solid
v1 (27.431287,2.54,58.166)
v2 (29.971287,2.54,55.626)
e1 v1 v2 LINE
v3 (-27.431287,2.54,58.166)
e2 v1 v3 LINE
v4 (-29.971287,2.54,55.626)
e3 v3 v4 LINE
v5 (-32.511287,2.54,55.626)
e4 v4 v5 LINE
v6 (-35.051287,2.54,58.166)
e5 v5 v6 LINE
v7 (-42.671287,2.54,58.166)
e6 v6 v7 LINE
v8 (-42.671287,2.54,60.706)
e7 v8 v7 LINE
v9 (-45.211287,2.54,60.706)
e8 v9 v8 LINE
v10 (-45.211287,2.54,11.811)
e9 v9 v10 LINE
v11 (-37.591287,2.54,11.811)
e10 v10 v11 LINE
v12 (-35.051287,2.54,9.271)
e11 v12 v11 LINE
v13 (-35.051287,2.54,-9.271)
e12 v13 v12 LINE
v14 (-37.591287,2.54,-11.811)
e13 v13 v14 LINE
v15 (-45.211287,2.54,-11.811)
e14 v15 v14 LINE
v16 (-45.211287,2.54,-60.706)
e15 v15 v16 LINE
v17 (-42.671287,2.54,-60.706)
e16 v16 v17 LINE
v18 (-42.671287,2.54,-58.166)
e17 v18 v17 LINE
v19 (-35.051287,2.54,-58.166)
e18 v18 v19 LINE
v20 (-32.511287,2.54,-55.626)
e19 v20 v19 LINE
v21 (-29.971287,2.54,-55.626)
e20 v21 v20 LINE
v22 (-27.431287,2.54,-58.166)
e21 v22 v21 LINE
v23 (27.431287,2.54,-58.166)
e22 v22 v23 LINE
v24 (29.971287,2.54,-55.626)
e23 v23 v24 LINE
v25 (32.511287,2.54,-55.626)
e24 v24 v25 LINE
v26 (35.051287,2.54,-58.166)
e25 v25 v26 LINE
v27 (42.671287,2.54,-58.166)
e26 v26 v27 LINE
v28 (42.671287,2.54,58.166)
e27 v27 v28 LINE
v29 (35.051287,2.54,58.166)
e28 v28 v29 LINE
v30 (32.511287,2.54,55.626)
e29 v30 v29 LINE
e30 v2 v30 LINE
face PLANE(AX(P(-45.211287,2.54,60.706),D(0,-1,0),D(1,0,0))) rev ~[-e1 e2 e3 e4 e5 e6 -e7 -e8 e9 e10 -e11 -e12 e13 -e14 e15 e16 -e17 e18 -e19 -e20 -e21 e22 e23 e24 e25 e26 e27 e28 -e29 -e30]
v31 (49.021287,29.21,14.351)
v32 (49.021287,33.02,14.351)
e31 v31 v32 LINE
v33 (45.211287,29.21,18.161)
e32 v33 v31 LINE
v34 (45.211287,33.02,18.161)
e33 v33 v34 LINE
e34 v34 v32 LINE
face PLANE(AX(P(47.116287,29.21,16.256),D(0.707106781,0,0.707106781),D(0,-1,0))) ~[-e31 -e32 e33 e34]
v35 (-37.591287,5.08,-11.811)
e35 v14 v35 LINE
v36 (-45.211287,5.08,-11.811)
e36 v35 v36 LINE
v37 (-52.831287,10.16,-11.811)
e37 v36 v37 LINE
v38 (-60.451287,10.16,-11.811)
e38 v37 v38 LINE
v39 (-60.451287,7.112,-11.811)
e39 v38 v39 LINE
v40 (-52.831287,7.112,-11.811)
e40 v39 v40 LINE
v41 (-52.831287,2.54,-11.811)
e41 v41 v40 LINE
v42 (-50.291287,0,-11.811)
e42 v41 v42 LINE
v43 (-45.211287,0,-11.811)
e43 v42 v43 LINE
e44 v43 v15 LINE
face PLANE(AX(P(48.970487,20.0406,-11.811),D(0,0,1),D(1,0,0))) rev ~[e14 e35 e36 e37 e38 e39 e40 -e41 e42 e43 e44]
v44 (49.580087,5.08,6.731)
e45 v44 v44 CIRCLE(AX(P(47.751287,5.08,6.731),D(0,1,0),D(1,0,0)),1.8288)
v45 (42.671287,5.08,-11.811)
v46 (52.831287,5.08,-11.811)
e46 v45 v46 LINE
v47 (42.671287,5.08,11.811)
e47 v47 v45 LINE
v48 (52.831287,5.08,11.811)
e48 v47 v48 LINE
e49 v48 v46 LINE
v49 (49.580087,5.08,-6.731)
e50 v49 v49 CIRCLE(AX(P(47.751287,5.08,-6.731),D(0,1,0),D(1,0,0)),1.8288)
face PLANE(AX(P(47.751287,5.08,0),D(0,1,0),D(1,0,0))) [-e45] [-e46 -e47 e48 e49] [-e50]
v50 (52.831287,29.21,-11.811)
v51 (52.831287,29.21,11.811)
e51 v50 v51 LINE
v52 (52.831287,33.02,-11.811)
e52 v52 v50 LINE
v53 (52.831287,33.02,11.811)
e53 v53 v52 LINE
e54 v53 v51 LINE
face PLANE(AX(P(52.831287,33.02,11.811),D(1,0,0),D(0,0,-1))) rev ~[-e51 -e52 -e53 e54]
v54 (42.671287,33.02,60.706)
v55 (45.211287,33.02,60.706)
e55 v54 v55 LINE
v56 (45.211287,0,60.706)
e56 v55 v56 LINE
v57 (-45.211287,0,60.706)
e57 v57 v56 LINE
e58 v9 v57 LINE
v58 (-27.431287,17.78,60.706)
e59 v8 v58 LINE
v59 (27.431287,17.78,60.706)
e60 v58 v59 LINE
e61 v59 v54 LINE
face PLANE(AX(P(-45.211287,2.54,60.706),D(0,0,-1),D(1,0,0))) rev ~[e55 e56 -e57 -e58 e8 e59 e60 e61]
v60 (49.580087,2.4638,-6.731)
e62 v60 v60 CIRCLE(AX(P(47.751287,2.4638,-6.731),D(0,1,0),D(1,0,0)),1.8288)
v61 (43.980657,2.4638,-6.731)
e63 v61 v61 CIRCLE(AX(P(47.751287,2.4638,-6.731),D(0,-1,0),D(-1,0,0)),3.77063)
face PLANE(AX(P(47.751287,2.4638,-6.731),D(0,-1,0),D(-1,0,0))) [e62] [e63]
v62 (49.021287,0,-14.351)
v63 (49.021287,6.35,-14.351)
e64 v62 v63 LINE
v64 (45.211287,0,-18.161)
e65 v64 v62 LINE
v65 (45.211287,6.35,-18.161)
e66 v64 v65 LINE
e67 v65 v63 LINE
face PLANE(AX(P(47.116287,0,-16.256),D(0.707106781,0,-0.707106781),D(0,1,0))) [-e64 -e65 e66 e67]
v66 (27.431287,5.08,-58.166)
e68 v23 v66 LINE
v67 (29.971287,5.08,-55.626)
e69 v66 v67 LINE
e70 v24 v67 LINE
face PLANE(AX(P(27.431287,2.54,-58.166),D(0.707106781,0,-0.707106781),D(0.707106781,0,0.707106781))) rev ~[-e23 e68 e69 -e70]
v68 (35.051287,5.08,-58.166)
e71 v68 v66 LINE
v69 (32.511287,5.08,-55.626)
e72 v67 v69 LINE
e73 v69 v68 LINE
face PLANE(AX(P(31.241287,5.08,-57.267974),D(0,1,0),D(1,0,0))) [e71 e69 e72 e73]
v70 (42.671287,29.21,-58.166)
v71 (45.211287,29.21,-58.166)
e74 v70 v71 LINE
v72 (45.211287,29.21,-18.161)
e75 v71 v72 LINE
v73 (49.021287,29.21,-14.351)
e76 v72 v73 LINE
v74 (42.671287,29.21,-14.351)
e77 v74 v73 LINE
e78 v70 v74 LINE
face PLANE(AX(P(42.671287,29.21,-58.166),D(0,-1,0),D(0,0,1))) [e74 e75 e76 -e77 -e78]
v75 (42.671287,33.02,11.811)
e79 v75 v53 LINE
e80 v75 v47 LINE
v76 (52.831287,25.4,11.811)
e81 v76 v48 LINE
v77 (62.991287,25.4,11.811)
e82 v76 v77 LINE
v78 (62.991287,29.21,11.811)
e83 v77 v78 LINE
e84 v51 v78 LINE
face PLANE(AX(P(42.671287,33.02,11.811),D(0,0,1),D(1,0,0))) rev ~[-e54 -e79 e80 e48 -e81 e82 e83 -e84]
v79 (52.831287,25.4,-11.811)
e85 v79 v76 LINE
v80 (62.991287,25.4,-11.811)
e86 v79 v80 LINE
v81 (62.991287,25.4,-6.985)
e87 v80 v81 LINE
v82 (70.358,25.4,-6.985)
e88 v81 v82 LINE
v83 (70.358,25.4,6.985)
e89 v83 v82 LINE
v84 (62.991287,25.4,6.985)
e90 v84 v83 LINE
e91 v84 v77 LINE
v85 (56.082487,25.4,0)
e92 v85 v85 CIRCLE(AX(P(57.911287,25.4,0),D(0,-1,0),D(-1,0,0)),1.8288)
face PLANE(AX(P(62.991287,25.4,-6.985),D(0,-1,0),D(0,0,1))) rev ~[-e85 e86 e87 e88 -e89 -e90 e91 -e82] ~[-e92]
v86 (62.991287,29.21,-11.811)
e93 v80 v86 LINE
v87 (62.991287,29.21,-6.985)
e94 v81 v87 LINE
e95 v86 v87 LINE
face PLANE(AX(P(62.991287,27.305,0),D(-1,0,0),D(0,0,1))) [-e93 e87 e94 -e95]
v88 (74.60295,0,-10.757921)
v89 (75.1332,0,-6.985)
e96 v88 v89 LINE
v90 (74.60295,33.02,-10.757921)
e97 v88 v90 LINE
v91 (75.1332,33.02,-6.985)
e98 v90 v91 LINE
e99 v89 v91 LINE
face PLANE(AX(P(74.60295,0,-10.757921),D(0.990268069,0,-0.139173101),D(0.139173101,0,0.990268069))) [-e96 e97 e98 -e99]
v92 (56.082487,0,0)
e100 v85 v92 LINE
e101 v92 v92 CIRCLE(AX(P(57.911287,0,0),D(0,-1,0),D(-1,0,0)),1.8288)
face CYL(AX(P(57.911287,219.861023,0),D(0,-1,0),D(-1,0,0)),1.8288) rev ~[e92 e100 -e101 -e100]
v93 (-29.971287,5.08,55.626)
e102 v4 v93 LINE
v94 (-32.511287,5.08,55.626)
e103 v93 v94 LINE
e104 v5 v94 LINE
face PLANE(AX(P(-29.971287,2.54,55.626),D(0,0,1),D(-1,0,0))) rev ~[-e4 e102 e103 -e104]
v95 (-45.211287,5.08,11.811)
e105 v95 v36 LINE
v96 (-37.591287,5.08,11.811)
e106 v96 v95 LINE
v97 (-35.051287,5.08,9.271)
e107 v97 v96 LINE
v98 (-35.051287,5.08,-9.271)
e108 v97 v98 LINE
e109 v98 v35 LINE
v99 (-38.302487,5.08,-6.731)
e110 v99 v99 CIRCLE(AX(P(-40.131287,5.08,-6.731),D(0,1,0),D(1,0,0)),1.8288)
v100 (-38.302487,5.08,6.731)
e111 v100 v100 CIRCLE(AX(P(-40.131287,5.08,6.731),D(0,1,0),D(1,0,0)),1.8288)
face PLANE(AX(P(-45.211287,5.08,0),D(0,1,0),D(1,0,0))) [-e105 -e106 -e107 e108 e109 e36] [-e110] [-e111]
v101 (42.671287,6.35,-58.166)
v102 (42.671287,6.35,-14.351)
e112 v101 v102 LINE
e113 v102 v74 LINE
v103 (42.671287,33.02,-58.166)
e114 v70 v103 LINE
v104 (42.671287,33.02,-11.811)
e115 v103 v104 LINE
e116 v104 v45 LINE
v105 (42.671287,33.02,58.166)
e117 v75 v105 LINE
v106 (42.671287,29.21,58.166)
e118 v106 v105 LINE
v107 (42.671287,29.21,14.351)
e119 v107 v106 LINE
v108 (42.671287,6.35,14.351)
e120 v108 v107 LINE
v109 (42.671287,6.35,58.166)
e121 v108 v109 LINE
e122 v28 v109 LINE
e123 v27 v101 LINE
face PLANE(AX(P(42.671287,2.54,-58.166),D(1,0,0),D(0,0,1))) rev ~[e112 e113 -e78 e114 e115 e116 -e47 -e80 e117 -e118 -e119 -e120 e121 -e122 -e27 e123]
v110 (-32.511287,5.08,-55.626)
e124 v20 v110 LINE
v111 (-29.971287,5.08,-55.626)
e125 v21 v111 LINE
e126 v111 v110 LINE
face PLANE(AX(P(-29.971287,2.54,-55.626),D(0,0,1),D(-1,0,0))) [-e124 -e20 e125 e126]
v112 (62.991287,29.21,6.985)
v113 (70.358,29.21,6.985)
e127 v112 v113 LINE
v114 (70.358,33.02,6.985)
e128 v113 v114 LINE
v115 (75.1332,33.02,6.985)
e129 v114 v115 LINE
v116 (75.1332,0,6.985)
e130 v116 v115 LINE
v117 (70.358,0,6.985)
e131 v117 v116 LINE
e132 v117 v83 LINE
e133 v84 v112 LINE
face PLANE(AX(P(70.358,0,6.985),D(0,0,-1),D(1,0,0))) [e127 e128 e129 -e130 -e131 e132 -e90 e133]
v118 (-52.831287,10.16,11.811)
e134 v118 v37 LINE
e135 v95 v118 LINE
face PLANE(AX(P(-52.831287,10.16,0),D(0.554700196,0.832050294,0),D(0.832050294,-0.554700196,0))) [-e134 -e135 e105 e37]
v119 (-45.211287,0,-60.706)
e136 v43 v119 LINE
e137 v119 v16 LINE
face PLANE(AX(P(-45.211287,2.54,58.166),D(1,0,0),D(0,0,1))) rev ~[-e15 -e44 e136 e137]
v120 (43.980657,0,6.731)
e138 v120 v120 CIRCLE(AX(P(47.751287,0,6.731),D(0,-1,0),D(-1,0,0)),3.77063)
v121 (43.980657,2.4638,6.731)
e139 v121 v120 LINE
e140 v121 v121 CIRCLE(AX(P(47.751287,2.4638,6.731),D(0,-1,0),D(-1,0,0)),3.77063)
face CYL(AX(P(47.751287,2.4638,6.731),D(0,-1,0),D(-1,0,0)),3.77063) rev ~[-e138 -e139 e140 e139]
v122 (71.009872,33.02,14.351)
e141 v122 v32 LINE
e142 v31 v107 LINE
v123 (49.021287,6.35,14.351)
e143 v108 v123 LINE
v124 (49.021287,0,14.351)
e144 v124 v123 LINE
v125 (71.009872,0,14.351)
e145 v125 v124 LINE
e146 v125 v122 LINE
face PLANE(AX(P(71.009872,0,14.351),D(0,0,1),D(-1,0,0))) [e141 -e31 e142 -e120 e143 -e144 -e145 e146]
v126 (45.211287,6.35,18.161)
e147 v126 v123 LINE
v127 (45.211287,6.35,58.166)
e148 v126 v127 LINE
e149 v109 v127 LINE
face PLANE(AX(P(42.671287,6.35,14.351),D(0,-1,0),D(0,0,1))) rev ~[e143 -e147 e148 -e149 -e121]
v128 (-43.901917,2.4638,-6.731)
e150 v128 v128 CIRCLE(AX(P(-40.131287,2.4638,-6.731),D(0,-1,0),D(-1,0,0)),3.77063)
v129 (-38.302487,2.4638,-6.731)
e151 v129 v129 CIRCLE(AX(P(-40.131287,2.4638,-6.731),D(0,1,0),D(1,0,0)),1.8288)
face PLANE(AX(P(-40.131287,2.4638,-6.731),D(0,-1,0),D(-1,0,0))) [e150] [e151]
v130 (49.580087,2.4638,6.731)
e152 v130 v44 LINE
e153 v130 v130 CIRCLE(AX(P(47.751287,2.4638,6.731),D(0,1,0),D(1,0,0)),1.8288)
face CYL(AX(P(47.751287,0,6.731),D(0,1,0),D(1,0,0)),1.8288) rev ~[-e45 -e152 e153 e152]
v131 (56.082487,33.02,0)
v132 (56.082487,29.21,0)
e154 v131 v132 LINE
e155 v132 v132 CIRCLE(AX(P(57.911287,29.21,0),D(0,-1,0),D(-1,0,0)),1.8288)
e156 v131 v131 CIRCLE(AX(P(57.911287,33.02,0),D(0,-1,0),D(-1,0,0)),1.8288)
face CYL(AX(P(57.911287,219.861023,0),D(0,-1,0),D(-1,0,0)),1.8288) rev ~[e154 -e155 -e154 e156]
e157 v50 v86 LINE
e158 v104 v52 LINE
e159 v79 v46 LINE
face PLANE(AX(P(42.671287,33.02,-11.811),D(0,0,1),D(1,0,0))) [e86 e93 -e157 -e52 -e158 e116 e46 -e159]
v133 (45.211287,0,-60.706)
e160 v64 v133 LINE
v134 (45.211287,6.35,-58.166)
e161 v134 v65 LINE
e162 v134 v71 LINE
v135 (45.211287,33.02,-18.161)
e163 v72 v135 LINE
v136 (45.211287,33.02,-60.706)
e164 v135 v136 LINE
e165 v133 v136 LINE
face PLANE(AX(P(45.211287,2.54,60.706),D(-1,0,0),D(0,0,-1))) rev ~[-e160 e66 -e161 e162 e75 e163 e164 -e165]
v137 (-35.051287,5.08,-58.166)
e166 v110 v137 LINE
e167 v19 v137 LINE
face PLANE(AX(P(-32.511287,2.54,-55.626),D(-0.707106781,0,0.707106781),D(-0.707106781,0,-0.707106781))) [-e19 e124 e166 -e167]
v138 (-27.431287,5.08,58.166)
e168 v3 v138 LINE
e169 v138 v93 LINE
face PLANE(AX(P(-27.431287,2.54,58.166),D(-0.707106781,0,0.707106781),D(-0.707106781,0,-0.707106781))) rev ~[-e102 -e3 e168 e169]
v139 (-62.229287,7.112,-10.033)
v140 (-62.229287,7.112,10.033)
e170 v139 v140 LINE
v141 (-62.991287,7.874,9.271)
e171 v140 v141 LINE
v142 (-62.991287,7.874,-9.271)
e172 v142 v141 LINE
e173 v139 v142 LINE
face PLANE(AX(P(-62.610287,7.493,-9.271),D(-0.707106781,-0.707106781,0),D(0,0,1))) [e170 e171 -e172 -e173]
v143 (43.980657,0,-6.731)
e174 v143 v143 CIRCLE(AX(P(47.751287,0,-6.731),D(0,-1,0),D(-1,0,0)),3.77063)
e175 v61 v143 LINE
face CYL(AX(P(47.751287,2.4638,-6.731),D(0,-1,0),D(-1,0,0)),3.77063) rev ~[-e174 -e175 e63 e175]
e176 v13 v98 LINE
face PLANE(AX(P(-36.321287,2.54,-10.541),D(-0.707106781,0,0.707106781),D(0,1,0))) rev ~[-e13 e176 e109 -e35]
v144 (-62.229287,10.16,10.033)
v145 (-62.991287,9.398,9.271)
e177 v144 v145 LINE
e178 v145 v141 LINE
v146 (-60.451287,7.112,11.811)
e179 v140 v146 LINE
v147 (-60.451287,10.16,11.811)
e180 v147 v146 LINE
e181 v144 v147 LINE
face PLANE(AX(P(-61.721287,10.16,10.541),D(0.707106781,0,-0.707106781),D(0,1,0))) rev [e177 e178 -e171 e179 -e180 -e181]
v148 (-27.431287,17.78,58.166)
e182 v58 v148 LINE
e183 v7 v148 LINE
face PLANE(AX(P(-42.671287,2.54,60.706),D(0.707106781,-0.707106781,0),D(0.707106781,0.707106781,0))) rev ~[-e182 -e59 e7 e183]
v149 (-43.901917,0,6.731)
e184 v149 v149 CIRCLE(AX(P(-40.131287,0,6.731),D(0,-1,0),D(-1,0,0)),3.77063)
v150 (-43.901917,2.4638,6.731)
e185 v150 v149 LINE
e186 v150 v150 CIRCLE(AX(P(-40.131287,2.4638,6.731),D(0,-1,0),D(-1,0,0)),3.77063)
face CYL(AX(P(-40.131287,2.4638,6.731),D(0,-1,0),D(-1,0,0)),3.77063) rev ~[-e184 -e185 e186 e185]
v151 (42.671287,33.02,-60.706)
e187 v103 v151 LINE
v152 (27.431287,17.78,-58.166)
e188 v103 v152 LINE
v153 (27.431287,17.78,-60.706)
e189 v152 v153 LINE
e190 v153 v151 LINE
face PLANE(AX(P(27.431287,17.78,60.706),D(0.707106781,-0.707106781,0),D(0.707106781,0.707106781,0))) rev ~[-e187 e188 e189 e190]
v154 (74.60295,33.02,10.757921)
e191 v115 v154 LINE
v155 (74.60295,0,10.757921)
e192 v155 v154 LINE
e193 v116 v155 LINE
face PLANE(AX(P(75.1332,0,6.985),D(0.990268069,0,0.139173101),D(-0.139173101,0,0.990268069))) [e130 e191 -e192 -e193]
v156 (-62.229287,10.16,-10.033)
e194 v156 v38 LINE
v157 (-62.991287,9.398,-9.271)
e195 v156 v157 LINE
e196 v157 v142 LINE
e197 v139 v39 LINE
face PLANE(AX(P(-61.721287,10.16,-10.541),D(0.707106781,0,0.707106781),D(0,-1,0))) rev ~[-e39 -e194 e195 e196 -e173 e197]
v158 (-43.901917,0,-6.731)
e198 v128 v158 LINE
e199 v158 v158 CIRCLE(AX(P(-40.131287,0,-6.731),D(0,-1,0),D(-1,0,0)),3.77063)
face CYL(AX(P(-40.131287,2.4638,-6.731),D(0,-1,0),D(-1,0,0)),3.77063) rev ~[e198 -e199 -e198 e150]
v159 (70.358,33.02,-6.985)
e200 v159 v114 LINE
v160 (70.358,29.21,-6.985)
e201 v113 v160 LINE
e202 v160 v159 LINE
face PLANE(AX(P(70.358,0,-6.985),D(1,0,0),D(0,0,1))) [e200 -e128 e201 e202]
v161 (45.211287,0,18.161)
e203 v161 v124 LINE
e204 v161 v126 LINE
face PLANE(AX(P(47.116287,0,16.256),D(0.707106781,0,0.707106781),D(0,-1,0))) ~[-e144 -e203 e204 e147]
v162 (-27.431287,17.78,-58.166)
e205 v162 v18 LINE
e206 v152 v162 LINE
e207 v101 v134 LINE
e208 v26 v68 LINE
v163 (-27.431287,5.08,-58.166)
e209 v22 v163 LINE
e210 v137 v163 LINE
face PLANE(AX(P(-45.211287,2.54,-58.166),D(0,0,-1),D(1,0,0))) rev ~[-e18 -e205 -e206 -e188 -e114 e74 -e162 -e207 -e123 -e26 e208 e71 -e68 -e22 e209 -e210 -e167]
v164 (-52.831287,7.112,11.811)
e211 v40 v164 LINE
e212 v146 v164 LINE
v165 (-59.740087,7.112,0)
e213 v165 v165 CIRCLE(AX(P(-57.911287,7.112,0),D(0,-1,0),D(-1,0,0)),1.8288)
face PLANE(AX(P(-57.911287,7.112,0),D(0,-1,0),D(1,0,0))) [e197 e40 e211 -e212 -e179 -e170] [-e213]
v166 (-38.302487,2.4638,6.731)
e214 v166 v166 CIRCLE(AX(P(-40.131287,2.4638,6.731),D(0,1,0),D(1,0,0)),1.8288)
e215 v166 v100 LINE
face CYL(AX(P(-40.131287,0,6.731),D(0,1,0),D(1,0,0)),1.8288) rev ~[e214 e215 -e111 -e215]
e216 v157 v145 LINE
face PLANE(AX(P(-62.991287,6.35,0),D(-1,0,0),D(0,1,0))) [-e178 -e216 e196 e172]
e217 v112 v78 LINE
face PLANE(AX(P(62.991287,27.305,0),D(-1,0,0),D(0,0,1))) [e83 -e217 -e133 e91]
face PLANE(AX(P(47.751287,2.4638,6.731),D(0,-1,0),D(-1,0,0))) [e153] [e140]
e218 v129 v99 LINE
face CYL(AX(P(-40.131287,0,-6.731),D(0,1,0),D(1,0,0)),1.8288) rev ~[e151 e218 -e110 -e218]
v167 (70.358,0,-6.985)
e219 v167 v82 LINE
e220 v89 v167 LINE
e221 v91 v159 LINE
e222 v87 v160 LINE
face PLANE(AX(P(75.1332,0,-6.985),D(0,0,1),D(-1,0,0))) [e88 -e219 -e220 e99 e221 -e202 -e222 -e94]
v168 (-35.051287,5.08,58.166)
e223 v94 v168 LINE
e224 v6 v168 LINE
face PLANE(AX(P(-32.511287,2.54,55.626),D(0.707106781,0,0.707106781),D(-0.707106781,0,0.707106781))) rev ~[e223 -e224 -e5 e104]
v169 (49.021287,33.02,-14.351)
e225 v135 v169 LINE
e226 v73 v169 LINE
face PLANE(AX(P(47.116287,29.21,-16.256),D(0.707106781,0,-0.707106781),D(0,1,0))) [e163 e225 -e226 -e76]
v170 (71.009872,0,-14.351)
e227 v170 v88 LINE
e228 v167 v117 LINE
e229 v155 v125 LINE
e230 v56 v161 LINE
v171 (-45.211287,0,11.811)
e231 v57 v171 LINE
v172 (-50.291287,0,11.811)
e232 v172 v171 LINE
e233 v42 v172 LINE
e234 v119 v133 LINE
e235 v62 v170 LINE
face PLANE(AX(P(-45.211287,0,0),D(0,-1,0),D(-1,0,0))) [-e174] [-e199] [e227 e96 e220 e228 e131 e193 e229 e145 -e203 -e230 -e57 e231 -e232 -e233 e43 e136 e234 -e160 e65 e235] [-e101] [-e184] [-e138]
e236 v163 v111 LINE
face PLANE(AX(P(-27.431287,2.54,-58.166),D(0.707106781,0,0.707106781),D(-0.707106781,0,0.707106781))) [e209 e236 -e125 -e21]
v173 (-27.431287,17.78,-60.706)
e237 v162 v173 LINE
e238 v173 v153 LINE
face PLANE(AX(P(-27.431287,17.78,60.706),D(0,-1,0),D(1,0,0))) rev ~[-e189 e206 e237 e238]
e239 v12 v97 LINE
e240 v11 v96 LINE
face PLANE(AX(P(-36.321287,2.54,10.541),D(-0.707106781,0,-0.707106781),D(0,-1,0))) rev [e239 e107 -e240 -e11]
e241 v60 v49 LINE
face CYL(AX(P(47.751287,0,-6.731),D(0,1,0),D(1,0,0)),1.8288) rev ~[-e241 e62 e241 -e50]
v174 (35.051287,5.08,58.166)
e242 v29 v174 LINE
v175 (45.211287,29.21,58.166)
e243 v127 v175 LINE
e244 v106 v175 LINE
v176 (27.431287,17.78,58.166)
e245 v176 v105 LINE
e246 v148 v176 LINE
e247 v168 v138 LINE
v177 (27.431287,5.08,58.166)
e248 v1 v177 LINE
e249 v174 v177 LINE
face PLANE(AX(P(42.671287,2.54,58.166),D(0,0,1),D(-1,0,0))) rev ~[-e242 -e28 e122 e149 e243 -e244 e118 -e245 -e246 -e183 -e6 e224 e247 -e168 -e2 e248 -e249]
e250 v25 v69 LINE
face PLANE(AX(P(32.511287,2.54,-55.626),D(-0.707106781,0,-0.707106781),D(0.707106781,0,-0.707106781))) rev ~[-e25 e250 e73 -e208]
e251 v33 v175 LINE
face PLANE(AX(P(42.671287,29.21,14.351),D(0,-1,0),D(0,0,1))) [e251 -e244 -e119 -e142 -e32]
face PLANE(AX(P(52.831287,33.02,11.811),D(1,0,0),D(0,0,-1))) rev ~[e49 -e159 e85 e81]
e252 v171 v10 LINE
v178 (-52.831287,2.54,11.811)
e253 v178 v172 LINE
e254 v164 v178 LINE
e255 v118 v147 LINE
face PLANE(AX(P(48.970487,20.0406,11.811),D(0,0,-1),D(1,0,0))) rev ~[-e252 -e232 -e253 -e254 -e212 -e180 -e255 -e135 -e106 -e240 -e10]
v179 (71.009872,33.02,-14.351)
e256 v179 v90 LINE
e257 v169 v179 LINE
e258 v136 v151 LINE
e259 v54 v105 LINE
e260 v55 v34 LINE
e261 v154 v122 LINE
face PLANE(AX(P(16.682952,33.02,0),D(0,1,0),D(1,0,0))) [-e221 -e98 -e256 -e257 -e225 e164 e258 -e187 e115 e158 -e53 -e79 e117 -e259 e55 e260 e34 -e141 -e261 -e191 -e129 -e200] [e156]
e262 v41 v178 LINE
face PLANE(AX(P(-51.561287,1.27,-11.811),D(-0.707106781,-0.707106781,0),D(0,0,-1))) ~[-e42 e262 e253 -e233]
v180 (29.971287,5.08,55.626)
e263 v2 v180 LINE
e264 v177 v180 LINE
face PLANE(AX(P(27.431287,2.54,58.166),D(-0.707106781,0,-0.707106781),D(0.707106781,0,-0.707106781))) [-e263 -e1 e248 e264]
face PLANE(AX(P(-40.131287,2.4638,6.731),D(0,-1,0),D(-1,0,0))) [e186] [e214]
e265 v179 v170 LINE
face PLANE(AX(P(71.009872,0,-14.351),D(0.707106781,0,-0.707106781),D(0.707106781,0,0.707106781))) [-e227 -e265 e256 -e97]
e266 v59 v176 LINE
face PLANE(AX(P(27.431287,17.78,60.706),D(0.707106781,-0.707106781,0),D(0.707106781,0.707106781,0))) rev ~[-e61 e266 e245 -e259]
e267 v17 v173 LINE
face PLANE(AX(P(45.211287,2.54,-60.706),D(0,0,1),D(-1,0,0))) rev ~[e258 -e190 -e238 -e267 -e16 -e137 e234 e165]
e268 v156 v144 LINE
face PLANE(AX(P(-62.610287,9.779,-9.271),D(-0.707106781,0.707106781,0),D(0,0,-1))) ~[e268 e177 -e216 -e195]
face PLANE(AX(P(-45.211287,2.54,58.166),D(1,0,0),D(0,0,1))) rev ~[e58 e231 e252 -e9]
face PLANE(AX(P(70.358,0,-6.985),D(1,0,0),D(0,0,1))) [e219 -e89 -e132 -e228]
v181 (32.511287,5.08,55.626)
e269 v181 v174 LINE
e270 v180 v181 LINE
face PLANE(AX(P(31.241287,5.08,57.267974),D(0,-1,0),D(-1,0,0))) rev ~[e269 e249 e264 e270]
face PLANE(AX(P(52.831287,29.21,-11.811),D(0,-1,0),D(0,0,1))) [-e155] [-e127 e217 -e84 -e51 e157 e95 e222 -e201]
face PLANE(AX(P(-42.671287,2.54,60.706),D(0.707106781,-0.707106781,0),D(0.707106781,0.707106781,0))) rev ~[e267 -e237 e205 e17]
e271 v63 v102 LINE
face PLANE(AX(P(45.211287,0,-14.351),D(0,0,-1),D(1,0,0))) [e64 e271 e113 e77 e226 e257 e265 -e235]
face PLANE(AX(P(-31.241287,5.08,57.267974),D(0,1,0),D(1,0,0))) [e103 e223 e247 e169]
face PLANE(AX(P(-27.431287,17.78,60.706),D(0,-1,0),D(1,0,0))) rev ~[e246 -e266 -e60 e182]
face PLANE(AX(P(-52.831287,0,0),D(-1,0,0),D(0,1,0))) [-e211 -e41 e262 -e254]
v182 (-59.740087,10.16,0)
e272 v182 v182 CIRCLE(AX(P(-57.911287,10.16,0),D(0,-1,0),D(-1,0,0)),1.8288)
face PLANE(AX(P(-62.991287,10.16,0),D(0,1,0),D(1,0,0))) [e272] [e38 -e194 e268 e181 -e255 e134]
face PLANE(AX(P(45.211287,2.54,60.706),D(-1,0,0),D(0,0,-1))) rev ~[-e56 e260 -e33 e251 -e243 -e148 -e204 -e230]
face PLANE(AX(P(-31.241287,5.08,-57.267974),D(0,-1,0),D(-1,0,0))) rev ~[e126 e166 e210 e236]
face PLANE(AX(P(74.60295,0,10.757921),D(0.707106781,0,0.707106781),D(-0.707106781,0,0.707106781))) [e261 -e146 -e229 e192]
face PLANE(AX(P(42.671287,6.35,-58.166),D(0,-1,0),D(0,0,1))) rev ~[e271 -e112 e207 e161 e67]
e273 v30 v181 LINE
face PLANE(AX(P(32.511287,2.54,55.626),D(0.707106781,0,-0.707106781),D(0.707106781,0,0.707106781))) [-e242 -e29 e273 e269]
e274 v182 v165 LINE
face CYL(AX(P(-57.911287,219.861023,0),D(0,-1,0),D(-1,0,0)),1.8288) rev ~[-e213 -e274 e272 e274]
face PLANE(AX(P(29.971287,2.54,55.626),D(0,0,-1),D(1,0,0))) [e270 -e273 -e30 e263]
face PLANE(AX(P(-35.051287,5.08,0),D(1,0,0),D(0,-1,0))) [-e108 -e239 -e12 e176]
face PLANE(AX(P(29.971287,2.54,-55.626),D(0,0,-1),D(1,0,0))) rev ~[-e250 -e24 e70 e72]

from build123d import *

# Parameters (mm, degrees)
SKETCH3_W                                       = 90.422573022
SKETCH3_H                                       = 121.412
BOSS_EXTRUDE4_DEPTH                             = 2.54
BOSS_EXTRUDE5_DEPTH                             = 30.48
CUT_EXTRUDE2_DEPTH                              = 122.412
BOSS_EXTRUDE6_DEPTH                             = 33.02
SKETCH9_W                                       = 10.16
SKETCH9_H                                       = 23.622
CUT_EXTRUDE3_DEPTH                              = 27.94
BOSS_EXTRUDE7_DEPTH                             = 2.54
SKETCH12_W                                      = 23.622
SKETCH12_H                                      = 3.81
CUT_EXTRUDE4_DEPTH                              = 10.16
SKETCH13_W                                      = 13.97
SKETCH13_H                                      = 3.81
CUT_EXTRUDE5_DEPTH                              = 13.141913489
BOSS_EXTRUDE9_REACH                             = 62.706
BOSS_EXTRUDE9_DIRECTION_2_REACH                 = 62.706
CBORE_FOR_6_PAN_HEAD_MACHINE_SCREW1_D           = 3.6576
CBORE_FOR_6_PAN_HEAD_MACHINE_SCREW1_CBORE_D     = 7.54126
CBORE_FOR_6_PAN_HEAD_MACHINE_SCREW1_CBORE_DEPTH = 2.4638
F_6_CLEARANCE_HOLE1_D                           = 3.6576
SKETCH21_W                                      = 43.815
SKETCH21_H                                      = 22.86
CUT_EXTRUDE6_DEPTH                              = 33.461913489
CHAMFER1_SIZE                                   = 2.54
CHAMFER2_SIZE                                   = 3.81
SKETCH23_W                                      = 10.16
SKETCH23_H                                      = 23.622
CUT_EXTRUDE8_DEPTH                              = 0.762
CHAMFER3_SIZE                                   = 0.762


with BuildPart() as part:
    # Sketch3 → Boss-Extrude4 (new body)
    with BuildSketch(Plane(origin=(0, 0, 0), x_dir=(1, 0, 0), z_dir=(0, 1, 0))):
        Rectangle(SKETCH3_W, SKETCH3_H)
    extrude(amount=BOSS_EXTRUDE4_DEPTH)

    # Sketch6 → Boss-Extrude5 (add)
    with BuildSketch(Plane(origin=(0, 2.54, 0), x_dir=(1, 0, 0), z_dir=(0, 1, 0))):
        Polygon((45.211286511, -60.706), (45.211286511, 60.706), (-45.211286511, 60.706), (-45.211286511, 58.166), (42.671286511, 58.166), (42.671286511, -58.166), (-45.211286511, -58.166), (-45.211286511, -60.706), align=None)
    extrude(amount=BOSS_EXTRUDE5_DEPTH)

    # Sketch7 → Cut-Extrude2 (cut, through all)
    with BuildSketch(Plane.XY.offset(60.706)):
        Polygon((-42.671286511, 2.54), (-27.431286511, 17.78), (27.431286511, 17.78), (42.671286511, 33.02), (-45.211286511, 33.02), (-45.211286511, 2.54), align=None)
    extrude(amount=-CUT_EXTRUDE2_DEPTH, mode=Mode.SUBTRACT)

    # Sketch8 → Boss-Extrude6 (add)
    with BuildSketch(Plane(origin=(0, 0, 0), x_dir=(1, 0, 0), z_dir=(0, 1, 0))):
        Polygon((45.211286511, 14.351), (71.009871827, 14.351), (74.602950485, 10.757921342), (75.1332, 6.985), (70.358, 6.985), (70.358, -6.985), (75.1332, -6.985), (74.602950485, -10.757921342), (71.009871827, -14.351), (45.211286511, -14.351), align=None)
    extrude(amount=BOSS_EXTRUDE6_DEPTH)

    # Sketch9 → Cut-Extrude3 (cut)
    with BuildSketch(Plane(origin=(0, 33.02, 0), x_dir=(1, 0, 0), z_dir=(0, 1, 0))):
        with Locations((47.751286511, 0)):
            Rectangle(SKETCH9_W, SKETCH9_H)
    extrude(amount=-CUT_EXTRUDE3_DEPTH, mode=Mode.SUBTRACT)

    # Sketch11 → Boss-Extrude7 (add)
    with BuildSketch(Plane(origin=(0, 2.54, 0), x_dir=(1, 0, 0), z_dir=(0, 1, 0))):
        Polygon((35.051286511, 58.166), (27.431286511, 58.166), (29.971286511, 55.626), (32.511286511, 55.626), align=None)
        Polygon((-29.971286511, 55.626), (-32.511286511, 55.626), (-35.051286511, 58.166), (-27.431286511, 58.166), align=None)
        Polygon((29.971286511, -55.626), (32.511286511, -55.626), (35.051286511, -58.166), (27.431286511, -58.166), align=None)
        Polygon((-27.431286511, -58.166), (-29.971286511, -55.626), (-32.511286511, -55.626), (-35.051286511, -58.166), align=None)
    extrude(amount=BOSS_EXTRUDE7_DEPTH)

    # Sketch12 → Cut-Extrude4 (cut)
    with BuildSketch(Plane.ZY.offset(-52.831286511)):
        with Locations((0, 27.305)):
            Rectangle(SKETCH12_W, SKETCH12_H)
    extrude(amount=-CUT_EXTRUDE4_DEPTH, mode=Mode.SUBTRACT)

    # Sketch13 → Cut-Extrude5 (cut, through all)
    with BuildSketch(Plane.ZY.offset(-62.991286511)):
        with Locations((0, 27.305)):
            Rectangle(SKETCH13_W, SKETCH13_H)
    extrude(amount=-CUT_EXTRUDE5_DEPTH, mode=Mode.SUBTRACT)

    # Boss-Extrude9: up to this face of the body (flat: up to its plane)
    boss_extrude9_end = Plane(part.part.faces().sort_by_distance((48.970486511, 20.0406, -11.811))[0])
    # Sketch15 → Boss-Extrude9 (add, up to the picked face)
    with BuildSketch(Plane.XY, mode=Mode.PRIVATE) as boss_extrude9_sk1:
        Polygon((-62.991286511, 10.16), (-52.831286511, 10.16), (-45.211286511, 5.08), (-35.051286511, 5.08), (-35.051286511, 2.54), (-45.211286511, 2.54), (-45.211286511, 0), (-52.831286511, 0), (-52.831286511, 6.35), (-62.991286511, 6.35), align=None)
    boss_extrude9_tool1 = split(extrude(boss_extrude9_sk1.sketch, amount=-BOSS_EXTRUDE9_REACH, mode=Mode.PRIVATE), bisect_by=boss_extrude9_end, keep=Keep.BOTH, mode=Mode.PRIVATE)
    add(boss_extrude9_tool1.solids().sort_by_distance((-50.157602, 5.280526, 0))[0])

    # Boss-Extrude9 direction 2: up to this face of the body (flat: up to its plane)
    boss_extrude9_direction_2_end = Plane(part.part.faces().sort_by_distance((48.970486511, 20.0406, 11.811))[0])
    # Sketch15 → Boss-Extrude9 direction 2 (add, up to the picked face)
    with BuildSketch(Plane.XY, mode=Mode.PRIVATE) as boss_extrude9_direction_2_sk1:
        Polygon((-62.991286511, 10.16), (-52.831286511, 10.16), (-45.211286511, 5.08), (-35.051286511, 5.08), (-35.051286511, 2.54), (-45.211286511, 2.54), (-45.211286511, 0), (-52.831286511, 0), (-52.831286511, 6.35), (-62.991286511, 6.35), align=None)
    boss_extrude9_direction_2_tool1 = split(extrude(boss_extrude9_direction_2_sk1.sketch, amount=BOSS_EXTRUDE9_DIRECTION_2_REACH, mode=Mode.PRIVATE), bisect_by=boss_extrude9_direction_2_end, keep=Keep.BOTH, mode=Mode.PRIVATE)
    add(boss_extrude9_direction_2_tool1.solids().sort_by_distance((-50.157602, 5.280526, 0))[0])

    # CBORE for #6 Pan Head Machine Screw1 (through all)
    with Locations(Plane(origin=(0, 0, 0), x_dir=(-1, 0, 0), z_dir=(0, -1, 0))):
        with Locations((-47.751286511, 6.731), (-47.751286511, -6.731), (40.131286511, 6.731), (40.131286511, -6.731)):
            CounterBoreHole(CBORE_FOR_6_PAN_HEAD_MACHINE_SCREW1_D / 2, CBORE_FOR_6_PAN_HEAD_MACHINE_SCREW1_CBORE_D / 2, CBORE_FOR_6_PAN_HEAD_MACHINE_SCREW1_CBORE_DEPTH)

    # #6 Clearance Hole1 (through all)
    with Locations(Plane(origin=(0, 33.02, 0), x_dir=(1, 0, 0), z_dir=(0, 1, 0))):
        with Locations((-57.911286511, 0), (57.911286511, 0)):
            Hole(F_6_CLEARANCE_HOLE1_D / 2)

    # Sketch21 → Cut-Extrude6 (cut, through all)
    with BuildSketch(Plane.ZY.offset(-42.671286511)):
        with Locations((-36.2585, 17.78)):
            Rectangle(SKETCH21_W, SKETCH21_H)
        with Locations((36.2585, 17.78)):
            Rectangle(SKETCH21_W, SKETCH21_H)
    extrude(amount=-CUT_EXTRUDE6_DEPTH, mode=Mode.SUBTRACT)

    # Chamfer1
    chamfer1_edges = [part.edges().sort_by_distance(p)[0] for p in [
        (-52.831286511, 0, 0),
        (-35.051286511, 3.81, -11.811),
        (-62.991286511, 8.255, -11.811),
        (-62.991286511, 8.255, 11.811),
        (-35.051286511, 3.81, 11.811),
    ]]
    chamfer(chamfer1_edges, length=CHAMFER1_SIZE)

    # Chamfer2
    chamfer2_edges = [part.edges().sort_by_distance(p)[0] for p in [
        (45.211286511, 3.175, -14.351),
        (45.211286511, 3.175, 14.351),
        (45.211286511, 31.115, -14.351),
        (45.211286511, 31.115, 14.351),
    ]]
    chamfer(chamfer2_edges, length=CHAMFER2_SIZE)

    # Sketch23 → Cut-Extrude8 (cut)
    with BuildSketch(Plane.XZ.offset(-6.35)):
        with Locations((-57.911286511, 0)):
            Rectangle(SKETCH23_W, SKETCH23_H)
    extrude(amount=-CUT_EXTRUDE8_DEPTH, mode=Mode.SUBTRACT)

    # Chamfer3
    chamfer3_edges = [part.edges().sort_by_distance(p)[0] for p in [
        (-62.991286511, 10.16, 0),
        (-62.991286511, 7.112, 0),
    ]]
    chamfer(chamfer3_edges, length=CHAMFER3_SIZE)


solid = part.part
